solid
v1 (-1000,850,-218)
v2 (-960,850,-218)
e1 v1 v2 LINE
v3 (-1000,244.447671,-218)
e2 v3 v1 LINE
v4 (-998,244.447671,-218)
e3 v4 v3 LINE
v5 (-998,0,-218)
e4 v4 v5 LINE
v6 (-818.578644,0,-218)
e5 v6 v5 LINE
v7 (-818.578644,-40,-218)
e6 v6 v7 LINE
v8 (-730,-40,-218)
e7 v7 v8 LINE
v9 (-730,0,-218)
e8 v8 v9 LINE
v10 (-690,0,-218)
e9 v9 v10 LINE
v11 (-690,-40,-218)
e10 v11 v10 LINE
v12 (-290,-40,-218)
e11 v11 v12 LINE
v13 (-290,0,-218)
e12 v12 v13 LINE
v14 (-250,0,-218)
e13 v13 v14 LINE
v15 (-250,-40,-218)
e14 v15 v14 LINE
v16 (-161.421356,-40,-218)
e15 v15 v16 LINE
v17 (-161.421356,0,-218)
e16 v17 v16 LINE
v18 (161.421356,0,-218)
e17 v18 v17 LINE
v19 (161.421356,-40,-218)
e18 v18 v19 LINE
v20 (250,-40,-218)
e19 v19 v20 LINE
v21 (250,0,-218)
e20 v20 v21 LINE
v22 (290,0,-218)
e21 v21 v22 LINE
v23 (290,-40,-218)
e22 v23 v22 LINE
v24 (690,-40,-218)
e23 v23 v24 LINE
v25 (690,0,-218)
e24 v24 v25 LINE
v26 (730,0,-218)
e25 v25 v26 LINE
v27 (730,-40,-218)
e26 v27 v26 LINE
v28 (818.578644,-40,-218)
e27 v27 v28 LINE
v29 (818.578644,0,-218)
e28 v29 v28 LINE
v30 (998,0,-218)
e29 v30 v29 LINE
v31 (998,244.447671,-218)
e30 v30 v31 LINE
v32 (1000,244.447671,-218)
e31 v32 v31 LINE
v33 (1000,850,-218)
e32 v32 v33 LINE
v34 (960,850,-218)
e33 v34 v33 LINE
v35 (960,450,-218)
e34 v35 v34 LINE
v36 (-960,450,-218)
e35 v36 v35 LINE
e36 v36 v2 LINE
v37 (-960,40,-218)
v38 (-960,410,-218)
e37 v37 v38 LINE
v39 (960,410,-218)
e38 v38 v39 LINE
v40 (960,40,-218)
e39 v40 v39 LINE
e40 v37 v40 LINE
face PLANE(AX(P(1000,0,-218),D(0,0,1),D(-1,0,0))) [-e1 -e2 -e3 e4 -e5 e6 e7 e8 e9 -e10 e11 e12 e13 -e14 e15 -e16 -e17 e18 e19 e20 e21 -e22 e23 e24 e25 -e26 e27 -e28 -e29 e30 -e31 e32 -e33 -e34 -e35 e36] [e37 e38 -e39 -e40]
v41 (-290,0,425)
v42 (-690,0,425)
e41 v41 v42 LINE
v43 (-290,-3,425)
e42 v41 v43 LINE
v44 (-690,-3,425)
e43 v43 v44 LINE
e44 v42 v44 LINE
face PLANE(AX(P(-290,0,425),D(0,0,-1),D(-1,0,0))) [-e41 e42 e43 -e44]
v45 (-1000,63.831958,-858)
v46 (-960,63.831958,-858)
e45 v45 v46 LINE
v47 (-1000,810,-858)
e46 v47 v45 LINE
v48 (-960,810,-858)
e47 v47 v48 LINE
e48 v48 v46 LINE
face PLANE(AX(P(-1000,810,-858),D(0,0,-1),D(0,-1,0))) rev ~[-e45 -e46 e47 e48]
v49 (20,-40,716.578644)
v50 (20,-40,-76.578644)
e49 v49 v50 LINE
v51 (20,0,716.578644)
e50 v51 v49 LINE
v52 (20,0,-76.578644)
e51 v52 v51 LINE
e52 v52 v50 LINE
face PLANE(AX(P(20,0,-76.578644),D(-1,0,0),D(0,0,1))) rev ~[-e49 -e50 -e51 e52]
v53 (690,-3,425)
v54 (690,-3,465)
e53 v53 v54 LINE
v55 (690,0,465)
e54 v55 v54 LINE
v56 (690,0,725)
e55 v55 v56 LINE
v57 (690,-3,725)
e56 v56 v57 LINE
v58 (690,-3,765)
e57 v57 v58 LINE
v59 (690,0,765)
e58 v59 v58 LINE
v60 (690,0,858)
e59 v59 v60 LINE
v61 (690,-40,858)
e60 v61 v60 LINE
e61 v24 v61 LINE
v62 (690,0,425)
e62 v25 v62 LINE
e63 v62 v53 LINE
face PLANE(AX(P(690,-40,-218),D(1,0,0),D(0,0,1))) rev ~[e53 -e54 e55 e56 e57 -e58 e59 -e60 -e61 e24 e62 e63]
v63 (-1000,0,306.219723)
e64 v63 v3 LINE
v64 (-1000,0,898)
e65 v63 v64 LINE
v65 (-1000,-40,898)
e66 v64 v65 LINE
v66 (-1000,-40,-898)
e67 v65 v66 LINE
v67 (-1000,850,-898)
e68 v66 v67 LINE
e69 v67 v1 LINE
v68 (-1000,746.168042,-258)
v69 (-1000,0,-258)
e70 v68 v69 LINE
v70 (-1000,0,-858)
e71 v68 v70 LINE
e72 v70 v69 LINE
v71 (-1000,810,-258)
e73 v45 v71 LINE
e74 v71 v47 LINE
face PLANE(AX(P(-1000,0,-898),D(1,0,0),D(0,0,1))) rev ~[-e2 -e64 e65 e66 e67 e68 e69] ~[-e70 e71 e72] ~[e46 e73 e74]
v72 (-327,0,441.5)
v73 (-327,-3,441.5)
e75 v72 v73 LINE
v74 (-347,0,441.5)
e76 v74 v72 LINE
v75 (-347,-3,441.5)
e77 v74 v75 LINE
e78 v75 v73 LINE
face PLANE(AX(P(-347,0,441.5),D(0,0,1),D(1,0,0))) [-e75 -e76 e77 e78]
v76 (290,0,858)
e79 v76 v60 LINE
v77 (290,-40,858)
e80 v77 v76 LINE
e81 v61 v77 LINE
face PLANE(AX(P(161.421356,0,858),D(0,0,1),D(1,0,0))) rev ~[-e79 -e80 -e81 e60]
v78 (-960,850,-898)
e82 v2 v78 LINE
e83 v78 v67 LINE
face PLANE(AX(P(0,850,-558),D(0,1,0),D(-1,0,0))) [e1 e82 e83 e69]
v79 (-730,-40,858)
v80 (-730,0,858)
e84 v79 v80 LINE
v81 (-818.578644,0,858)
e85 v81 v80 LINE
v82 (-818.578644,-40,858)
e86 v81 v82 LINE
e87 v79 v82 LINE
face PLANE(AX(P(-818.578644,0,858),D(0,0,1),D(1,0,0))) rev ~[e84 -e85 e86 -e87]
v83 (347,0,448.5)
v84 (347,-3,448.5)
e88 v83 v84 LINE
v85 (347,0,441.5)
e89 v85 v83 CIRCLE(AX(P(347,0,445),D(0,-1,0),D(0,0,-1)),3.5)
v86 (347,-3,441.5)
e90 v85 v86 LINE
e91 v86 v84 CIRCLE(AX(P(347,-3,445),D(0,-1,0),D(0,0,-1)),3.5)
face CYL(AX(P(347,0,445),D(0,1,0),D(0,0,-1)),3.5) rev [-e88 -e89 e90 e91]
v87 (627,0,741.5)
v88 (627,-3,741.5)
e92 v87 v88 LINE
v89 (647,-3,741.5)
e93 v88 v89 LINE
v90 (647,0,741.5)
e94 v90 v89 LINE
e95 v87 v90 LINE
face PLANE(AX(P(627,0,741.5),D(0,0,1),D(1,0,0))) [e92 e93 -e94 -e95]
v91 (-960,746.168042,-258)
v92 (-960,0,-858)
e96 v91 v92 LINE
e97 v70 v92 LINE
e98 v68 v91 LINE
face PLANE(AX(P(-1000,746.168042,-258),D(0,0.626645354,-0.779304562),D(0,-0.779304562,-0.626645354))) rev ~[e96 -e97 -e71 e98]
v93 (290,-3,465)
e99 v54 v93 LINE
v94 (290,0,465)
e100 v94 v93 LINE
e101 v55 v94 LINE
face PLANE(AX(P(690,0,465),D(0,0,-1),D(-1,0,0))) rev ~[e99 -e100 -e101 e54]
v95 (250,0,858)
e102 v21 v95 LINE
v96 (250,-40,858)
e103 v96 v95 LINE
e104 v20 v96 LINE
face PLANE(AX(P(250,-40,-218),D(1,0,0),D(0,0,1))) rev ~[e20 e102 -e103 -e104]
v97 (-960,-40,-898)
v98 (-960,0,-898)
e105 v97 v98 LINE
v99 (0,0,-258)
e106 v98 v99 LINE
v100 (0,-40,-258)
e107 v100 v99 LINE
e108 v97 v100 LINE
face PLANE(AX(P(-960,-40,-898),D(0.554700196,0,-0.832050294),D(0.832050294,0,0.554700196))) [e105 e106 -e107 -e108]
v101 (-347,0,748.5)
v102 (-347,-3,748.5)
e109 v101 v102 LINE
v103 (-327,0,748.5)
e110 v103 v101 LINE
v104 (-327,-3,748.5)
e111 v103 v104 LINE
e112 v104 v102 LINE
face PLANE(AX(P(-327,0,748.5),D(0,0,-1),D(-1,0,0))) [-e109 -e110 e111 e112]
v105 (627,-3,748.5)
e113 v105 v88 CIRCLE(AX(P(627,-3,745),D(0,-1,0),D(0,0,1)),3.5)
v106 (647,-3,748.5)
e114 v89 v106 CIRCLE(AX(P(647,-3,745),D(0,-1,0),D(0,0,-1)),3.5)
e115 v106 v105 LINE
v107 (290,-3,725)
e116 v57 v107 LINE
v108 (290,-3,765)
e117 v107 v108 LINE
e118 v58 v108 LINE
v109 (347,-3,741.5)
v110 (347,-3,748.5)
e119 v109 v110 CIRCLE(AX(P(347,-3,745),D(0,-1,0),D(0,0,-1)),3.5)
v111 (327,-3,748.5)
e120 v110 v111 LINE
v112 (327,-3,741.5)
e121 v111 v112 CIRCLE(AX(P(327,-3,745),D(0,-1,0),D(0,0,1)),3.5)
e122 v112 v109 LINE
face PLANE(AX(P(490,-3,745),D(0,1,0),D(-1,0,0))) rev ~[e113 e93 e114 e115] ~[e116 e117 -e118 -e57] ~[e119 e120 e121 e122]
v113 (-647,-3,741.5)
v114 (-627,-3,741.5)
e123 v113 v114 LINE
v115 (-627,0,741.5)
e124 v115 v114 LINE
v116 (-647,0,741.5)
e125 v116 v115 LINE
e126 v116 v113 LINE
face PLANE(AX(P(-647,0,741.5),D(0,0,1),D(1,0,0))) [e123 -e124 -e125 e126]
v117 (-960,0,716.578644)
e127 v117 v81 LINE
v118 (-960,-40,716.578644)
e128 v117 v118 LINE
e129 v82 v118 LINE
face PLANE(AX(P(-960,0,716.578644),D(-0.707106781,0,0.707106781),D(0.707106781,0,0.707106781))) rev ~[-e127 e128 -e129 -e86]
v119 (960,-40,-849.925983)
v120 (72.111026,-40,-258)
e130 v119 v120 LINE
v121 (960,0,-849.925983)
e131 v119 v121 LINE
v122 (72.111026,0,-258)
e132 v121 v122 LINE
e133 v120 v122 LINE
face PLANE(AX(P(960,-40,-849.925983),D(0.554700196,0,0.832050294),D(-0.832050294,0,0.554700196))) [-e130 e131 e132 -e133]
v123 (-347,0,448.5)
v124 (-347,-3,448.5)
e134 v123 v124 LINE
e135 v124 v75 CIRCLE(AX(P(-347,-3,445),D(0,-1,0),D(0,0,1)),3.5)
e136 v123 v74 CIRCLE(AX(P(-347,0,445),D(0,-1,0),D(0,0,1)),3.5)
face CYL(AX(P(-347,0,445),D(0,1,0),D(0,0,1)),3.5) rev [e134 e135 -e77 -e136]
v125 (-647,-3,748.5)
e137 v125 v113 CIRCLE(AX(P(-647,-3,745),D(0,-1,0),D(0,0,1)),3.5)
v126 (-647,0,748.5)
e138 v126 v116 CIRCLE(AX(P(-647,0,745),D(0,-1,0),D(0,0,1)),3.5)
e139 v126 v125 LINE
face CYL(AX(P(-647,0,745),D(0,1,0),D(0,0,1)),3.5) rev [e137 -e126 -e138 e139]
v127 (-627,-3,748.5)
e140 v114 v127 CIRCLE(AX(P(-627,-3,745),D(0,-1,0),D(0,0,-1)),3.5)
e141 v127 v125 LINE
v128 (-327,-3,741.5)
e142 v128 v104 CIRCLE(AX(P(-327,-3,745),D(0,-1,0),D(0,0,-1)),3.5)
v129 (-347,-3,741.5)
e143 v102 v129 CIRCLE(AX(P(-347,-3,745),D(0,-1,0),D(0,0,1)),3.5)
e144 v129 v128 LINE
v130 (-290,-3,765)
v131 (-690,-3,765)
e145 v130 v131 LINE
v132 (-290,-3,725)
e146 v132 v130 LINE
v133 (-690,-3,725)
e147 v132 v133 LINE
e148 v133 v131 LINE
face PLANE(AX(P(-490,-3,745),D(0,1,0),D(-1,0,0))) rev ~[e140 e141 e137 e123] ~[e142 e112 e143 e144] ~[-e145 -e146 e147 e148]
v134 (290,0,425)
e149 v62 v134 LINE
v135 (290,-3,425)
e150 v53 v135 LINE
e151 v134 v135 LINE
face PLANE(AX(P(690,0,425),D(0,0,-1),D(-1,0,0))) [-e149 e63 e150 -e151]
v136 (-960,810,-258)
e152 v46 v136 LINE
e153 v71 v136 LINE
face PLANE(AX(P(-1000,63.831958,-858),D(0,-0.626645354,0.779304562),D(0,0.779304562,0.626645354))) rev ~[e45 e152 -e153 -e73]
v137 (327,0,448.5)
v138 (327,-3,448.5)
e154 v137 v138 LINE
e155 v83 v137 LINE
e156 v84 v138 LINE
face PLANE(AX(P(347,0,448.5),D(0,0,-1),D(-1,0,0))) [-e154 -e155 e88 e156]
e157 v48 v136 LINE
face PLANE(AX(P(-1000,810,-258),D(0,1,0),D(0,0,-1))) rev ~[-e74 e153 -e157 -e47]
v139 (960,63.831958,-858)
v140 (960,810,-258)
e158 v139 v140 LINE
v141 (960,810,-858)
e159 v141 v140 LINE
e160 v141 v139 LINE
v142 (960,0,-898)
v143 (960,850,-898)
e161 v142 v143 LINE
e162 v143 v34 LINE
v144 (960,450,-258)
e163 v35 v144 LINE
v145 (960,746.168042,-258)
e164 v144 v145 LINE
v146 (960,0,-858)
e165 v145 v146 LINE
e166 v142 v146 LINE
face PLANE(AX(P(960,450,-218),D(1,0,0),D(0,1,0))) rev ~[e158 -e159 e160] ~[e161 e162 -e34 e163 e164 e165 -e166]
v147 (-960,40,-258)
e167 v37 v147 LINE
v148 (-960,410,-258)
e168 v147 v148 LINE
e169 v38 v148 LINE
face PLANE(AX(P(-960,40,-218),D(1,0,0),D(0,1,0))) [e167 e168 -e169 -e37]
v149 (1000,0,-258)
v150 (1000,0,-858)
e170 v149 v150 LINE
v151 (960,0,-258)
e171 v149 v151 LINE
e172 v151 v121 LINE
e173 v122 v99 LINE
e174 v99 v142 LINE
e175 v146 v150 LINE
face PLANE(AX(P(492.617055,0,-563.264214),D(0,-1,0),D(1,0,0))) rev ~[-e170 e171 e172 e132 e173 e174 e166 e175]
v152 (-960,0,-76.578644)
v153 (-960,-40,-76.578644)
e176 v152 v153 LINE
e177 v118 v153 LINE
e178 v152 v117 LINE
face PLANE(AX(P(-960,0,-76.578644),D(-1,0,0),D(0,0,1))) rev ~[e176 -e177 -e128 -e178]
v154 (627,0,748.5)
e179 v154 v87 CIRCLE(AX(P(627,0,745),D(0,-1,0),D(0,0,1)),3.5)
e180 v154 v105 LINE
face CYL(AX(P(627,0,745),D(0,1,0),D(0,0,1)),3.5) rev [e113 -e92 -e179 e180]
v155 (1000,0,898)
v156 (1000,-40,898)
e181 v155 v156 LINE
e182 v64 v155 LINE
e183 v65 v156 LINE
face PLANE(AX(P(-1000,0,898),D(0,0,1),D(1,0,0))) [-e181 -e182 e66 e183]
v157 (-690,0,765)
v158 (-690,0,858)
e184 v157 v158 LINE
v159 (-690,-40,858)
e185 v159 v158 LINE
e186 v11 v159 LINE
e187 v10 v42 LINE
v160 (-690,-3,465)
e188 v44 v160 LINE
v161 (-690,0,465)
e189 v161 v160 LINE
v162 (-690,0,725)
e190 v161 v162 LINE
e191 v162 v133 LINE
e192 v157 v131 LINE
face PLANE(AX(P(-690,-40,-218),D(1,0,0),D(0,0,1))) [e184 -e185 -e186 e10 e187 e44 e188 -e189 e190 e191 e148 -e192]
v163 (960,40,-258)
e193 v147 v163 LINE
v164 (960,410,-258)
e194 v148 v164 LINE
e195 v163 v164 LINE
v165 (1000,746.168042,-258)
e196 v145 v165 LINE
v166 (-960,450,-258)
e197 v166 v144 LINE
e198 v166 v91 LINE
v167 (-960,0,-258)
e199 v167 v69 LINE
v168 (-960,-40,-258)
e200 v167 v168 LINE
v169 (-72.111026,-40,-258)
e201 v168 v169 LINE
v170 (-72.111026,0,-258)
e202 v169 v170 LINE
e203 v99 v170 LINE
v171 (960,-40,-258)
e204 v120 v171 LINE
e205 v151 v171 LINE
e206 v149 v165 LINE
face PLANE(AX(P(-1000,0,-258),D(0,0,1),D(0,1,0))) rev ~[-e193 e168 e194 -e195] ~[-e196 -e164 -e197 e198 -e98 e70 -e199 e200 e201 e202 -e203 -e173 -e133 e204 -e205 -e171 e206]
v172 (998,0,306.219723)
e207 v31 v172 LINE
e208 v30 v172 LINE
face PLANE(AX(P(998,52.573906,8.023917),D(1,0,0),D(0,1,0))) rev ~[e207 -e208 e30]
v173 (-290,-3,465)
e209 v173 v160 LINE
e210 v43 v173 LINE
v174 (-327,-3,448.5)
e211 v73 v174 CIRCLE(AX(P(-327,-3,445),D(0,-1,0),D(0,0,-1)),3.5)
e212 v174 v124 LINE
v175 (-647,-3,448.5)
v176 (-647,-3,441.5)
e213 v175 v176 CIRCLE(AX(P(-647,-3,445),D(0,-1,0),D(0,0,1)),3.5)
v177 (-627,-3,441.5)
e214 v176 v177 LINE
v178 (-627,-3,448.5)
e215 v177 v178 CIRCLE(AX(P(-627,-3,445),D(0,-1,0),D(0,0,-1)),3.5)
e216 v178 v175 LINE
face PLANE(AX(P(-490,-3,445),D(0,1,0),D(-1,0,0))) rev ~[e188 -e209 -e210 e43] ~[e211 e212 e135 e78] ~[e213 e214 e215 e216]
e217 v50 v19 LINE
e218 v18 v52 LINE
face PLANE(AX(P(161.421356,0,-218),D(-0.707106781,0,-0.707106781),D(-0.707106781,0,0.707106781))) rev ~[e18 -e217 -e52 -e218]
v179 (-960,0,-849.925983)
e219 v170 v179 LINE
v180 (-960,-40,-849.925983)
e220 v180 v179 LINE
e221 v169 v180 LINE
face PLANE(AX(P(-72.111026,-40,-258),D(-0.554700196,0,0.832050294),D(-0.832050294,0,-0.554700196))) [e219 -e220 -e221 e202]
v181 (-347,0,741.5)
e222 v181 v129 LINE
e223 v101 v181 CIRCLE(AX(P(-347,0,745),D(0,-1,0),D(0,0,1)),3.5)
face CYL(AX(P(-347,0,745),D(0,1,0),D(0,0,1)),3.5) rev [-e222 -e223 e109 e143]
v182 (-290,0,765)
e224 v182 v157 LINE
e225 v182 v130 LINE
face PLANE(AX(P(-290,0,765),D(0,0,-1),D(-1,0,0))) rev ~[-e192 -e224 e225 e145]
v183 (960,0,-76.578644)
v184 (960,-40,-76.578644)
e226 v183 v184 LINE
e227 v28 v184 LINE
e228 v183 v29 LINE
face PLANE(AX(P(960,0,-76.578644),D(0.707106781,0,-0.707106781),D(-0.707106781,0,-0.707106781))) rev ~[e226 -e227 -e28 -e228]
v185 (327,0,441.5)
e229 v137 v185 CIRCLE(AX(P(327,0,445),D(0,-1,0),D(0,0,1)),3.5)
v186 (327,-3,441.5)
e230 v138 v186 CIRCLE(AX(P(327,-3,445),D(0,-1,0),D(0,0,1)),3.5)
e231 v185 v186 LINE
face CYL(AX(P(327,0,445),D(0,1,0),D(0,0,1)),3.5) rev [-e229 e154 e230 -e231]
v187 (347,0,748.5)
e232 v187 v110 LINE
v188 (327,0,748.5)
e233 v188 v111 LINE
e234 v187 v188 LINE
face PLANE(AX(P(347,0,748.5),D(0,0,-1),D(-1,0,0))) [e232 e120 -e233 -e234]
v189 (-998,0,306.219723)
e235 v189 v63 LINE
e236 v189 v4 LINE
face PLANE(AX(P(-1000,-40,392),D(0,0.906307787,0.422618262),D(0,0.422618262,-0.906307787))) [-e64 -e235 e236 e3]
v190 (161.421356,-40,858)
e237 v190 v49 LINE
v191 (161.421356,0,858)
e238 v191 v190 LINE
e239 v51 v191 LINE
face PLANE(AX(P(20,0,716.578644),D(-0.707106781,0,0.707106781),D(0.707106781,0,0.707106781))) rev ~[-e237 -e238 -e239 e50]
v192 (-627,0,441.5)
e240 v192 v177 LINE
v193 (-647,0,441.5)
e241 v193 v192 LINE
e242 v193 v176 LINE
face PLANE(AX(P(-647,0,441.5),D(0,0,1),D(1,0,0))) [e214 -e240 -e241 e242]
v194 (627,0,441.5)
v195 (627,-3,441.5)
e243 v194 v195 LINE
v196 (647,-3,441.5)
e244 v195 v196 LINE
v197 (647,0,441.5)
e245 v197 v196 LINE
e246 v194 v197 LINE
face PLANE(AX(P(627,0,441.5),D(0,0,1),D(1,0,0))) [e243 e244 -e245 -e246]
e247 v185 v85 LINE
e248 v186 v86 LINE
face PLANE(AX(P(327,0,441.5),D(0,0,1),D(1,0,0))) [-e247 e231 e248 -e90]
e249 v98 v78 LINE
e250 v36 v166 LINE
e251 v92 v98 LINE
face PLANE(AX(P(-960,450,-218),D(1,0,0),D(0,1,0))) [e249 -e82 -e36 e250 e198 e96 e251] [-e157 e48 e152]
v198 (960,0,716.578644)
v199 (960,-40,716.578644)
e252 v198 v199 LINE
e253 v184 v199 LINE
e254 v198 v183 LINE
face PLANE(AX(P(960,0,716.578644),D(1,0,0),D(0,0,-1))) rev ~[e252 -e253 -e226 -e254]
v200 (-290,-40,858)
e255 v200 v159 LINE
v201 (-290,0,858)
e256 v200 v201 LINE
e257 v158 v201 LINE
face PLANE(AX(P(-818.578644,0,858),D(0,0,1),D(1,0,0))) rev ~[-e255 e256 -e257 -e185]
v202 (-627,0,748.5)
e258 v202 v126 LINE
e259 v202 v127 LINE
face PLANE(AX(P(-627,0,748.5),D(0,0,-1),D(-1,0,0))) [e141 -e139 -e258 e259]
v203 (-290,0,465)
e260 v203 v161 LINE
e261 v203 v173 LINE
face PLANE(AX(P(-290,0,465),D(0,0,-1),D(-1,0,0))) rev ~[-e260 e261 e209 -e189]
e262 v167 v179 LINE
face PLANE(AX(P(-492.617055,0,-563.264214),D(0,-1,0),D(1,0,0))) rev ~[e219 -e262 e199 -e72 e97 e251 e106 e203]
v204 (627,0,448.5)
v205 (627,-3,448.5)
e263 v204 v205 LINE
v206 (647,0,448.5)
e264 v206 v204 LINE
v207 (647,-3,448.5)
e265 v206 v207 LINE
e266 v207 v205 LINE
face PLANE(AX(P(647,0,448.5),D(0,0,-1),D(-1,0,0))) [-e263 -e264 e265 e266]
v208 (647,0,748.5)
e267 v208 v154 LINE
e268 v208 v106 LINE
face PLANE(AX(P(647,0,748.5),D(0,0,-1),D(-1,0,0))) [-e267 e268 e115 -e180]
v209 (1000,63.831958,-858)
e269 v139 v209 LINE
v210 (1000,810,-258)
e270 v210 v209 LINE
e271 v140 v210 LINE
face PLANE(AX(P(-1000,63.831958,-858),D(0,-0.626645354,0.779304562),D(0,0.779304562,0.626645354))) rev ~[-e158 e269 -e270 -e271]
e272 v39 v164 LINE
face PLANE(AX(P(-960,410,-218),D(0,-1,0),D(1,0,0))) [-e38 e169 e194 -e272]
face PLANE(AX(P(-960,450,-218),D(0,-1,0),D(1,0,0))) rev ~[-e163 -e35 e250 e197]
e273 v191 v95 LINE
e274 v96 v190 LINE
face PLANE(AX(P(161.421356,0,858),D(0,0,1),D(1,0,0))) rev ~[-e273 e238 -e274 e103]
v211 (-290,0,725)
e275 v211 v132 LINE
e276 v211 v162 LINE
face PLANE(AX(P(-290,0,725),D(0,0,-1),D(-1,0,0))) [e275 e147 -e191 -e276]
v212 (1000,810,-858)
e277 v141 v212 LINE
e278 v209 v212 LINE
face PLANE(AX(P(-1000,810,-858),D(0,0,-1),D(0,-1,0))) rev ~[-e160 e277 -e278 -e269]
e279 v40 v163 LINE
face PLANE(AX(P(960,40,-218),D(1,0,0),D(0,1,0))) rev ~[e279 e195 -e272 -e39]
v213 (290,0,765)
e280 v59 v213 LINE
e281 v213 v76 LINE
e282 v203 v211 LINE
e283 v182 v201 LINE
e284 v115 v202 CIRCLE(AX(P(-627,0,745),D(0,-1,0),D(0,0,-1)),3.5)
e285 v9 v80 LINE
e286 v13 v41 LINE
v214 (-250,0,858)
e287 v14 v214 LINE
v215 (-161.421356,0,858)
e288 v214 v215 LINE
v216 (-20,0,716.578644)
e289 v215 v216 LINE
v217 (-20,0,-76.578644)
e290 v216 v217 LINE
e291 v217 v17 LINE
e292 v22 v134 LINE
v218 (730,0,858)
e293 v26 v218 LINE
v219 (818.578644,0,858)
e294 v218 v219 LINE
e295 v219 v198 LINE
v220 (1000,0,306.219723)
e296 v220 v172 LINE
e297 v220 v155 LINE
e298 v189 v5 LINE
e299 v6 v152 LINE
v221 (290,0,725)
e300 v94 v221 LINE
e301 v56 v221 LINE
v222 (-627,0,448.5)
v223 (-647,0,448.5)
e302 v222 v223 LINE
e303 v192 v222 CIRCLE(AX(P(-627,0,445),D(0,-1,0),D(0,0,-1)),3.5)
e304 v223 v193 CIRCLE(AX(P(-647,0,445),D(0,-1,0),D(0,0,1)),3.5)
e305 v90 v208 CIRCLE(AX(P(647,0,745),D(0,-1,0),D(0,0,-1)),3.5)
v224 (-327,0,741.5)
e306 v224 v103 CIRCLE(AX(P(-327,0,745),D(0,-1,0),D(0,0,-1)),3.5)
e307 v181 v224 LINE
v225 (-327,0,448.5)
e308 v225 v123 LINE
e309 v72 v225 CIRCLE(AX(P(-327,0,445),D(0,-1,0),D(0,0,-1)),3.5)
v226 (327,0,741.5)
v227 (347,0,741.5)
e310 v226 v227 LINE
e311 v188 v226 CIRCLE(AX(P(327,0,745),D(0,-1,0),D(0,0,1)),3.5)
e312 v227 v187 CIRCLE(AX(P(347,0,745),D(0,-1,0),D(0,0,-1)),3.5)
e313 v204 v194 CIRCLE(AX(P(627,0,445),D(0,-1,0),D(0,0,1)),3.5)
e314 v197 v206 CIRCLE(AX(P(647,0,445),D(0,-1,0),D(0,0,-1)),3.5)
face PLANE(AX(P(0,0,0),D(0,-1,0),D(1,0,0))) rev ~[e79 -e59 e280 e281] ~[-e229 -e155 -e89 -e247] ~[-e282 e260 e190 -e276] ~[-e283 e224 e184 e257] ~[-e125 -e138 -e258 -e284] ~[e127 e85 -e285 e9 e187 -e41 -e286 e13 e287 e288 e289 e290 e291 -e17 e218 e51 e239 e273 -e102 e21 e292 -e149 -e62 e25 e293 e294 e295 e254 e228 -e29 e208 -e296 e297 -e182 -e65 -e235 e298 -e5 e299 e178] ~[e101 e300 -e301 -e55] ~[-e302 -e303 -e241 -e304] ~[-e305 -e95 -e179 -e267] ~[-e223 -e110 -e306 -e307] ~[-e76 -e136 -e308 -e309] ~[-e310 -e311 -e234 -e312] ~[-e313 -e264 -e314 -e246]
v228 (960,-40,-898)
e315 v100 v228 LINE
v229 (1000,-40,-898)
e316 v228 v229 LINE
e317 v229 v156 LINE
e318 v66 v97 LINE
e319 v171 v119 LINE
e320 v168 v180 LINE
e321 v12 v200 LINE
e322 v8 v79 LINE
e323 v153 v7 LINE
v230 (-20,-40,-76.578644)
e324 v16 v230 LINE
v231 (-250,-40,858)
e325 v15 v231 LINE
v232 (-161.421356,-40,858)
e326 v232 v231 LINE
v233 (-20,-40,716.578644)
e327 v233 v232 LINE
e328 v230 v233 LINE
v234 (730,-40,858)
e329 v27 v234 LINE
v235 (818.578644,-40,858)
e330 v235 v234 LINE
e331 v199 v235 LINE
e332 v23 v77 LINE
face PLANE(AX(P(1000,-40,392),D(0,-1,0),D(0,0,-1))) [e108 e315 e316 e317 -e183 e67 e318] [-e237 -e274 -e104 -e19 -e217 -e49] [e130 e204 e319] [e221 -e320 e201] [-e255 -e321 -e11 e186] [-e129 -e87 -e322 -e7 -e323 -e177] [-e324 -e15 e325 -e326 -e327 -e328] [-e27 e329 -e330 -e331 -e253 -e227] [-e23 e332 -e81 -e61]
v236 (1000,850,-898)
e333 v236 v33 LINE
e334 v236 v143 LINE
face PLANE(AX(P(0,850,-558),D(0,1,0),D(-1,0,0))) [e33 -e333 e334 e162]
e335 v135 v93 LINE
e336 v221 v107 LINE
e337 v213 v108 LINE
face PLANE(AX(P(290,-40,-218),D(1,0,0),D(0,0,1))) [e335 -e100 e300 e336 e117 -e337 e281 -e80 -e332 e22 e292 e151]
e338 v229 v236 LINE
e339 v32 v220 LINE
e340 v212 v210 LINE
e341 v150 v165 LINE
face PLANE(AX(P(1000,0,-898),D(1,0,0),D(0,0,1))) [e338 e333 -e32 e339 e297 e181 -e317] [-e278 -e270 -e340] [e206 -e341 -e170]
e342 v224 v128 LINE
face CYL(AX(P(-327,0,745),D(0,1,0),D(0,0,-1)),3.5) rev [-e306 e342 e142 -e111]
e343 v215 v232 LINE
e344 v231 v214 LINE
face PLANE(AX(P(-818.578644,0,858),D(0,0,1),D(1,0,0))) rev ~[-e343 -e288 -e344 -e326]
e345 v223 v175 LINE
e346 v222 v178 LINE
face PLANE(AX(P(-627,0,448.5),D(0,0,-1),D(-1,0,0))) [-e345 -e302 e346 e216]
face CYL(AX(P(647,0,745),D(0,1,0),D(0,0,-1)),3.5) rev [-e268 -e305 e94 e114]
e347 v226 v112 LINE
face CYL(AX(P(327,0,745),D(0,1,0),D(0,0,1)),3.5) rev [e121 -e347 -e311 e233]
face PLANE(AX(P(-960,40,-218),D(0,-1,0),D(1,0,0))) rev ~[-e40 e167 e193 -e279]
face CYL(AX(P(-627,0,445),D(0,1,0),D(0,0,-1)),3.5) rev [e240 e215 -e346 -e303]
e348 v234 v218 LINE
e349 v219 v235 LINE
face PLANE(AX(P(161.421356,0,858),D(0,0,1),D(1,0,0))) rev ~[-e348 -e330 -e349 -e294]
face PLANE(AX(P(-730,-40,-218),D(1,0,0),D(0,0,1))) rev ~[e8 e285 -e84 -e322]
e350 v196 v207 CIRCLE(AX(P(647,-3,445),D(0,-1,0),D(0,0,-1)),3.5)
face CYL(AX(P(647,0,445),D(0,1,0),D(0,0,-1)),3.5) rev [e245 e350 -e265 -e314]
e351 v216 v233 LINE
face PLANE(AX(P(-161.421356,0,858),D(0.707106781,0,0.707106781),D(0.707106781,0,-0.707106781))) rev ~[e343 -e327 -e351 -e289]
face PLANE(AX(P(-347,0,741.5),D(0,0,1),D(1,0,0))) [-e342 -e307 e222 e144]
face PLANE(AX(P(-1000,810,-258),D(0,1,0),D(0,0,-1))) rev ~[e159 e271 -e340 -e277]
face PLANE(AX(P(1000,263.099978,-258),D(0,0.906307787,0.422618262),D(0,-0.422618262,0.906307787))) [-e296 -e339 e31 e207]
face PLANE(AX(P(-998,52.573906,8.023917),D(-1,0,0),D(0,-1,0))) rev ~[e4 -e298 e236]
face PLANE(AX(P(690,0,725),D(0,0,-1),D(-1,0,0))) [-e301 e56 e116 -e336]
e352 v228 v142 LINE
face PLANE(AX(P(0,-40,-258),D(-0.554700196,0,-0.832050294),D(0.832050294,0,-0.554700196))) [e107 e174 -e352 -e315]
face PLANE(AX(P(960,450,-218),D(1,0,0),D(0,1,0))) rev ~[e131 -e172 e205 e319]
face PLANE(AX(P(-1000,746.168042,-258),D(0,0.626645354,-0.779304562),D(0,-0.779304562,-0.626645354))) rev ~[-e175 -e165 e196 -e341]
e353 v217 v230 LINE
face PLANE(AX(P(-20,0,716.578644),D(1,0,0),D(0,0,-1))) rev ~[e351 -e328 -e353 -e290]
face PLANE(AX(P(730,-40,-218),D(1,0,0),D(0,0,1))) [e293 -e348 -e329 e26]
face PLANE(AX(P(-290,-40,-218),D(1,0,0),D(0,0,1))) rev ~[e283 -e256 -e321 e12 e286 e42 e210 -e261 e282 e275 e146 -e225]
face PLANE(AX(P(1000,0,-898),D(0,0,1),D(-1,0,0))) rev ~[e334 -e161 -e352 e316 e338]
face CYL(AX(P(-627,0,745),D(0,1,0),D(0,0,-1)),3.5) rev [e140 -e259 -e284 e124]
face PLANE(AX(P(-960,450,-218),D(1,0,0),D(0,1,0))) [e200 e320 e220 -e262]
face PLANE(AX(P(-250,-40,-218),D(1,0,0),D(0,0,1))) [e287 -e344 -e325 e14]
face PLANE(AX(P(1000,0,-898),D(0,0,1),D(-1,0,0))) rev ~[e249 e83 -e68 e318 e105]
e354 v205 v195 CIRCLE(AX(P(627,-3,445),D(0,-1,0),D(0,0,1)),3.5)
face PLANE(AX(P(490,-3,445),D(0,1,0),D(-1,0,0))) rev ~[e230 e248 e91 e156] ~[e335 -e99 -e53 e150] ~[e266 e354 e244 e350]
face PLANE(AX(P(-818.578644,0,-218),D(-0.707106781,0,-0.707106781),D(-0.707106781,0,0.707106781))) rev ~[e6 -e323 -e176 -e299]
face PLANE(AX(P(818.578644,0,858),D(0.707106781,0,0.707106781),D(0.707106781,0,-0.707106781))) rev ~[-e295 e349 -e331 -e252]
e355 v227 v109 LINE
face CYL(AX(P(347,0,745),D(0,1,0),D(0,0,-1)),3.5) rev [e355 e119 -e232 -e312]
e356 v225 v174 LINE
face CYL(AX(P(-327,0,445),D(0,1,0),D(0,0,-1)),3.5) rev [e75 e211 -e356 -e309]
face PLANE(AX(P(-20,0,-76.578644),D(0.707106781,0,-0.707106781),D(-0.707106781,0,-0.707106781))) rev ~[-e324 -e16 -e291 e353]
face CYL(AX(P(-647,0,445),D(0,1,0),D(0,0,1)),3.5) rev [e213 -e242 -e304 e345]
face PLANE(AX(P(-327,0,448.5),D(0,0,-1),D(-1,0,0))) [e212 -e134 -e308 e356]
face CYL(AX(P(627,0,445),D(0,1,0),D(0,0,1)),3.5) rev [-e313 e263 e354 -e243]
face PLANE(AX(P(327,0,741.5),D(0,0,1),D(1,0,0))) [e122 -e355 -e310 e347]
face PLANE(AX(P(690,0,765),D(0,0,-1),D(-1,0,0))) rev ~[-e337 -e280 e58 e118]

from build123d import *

# Parameters (mm, degrees)
F0_W          = 2000
F0_H          = 1796
F1_DEPTH      = 40
F2_W          = 2000
F2_H          = 680
F3_DEPTH      = 850
F4_W          = 1920
F4_H          = 640
F5_DEPTH      = 40.001
F5_DEPTH_BACK = 850.001
F7_DEPTH      = 2000.001
F8_W          = 1920
F8_H          = 400
F8_H_2        = 370
F9_DEPTH      = 680.001
F11_DEPTH     = 40
F12_W         = 40
F12_H         = 1076
F13_DEPTH     = 40
F14_W         = 400
F14_H         = 40
F15_DEPTH     = 3
F17_DEPTH     = 2
F19_DEPTH     = 2


with BuildPart() as f1:
    # F0 (on Front) → F1 (new body)
    with BuildSketch(Plane.XZ):
        Rectangle(F0_W, F0_H)
    extrude(amount=F1_DEPTH)

    # F2 (on face) → F3 (join)
    with BuildSketch(Plane(origin=(0, 0, 0), x_dir=(-1, 0, 0), z_dir=(0, 1, 0))):
        with Locations((0, -558)):
            Rectangle(F2_W, F2_H)
    extrude(amount=F3_DEPTH)

    # F4 (on face) → F5 (cut, two sides)
    with BuildSketch(Plane(origin=(0, 0, 0), x_dir=(-1, 0, 0), z_dir=(0, 1, 0))) as f5_sk:
        with Locations((0, -578)):
            Rectangle(F4_W, F4_H)
        Polygon((-161.4213562373, -218), (-20, -76.5786437627), (-20, 716.5786437627), (-161.4213562373, 858), (-818.5786437627, 858), (-960, 716.5786437627), (-960, -76.5786437627), (-818.5786437627, -218), align=None)
        Polygon((20, 716.5786437627), (20, -76.5786437627), (161.4213562373, -218), (818.5786437627, -218), (960, -76.5786437627), (960, 716.5786437627), (818.5786437627, 858), (161.4213562373, 858), align=None)
    extrude(amount=-F5_DEPTH, mode=Mode.SUBTRACT)
    extrude(f5_sk.sketch, amount=F5_DEPTH_BACK, mode=Mode.SUBTRACT)

    # F6 (on face) → F7 (cut, through all)
    with BuildSketch(Plane(origin=(-1000, 0, 0), x_dir=(0, -1, 0), z_dir=(-1, 0, 0))):
        Polygon((-63.8319580969, -858), (-810, -258), (-810, -858), align=None)
        Polygon((0, -858), (0, -258), (-746.1680419031, -258), align=None)
    extrude(amount=-F7_DEPTH, mode=Mode.SUBTRACT)

    # F8 (on face) → F9 (cut, through all)
    with BuildSketch(Plane.XY.offset(-218)):
        with Locations((0, 650)):
            Rectangle(F8_W, F8_H)
        with Locations((0, 225)):
            Rectangle(F8_W, F8_H_2)
    extrude(amount=-F9_DEPTH, mode=Mode.SUBTRACT)

    # F10 (on face) → F11 (join)
    with BuildSketch(Plane.XZ.offset(40)):
        Polygon((72.1110255093, -258), (0, -258), (960, -898), (960, -849.9259829938), align=None)
        Polygon((-960, -898), (0, -258), (-72.1110255093, -258), (-960, -849.9259829938), align=None)
    extrude(amount=-F11_DEPTH)

    # F12 (on face) → F13 (join)
    with BuildSketch(Plane.XZ.offset(40)):
        with Locations((-710, 320)):
            Rectangle(F12_W, F12_H)
        with Locations((-270, 320)):
            Rectangle(F12_W, F12_H)
        with Locations((270, 320)):
            Rectangle(F12_W, F12_H)
        with Locations((710, 320)):
            Rectangle(F12_W, F12_H)
    extrude(amount=-F13_DEPTH)

    # F14 (on face) → F15 (join)
    with BuildSketch(Plane(origin=(0, 0, 0), x_dir=(-1, 0, 0), z_dir=(0, 1, 0))):
        with Locations((490, 745)):
            Rectangle(F14_W, F14_H)
        with BuildLine():
            Line((327, 748.5), (337, 748.5))
            Line((337, 748.5), (347, 748.5))
            ThreePointArc((347, 748.5), (350.5, 745), (347, 741.5))
            Line((347, 741.5), (337, 741.5))
            Line((337, 741.5), (327, 741.5))
            ThreePointArc((327, 741.5), (323.5, 745), (327, 748.5))
        make_face(mode=Mode.SUBTRACT)
        with BuildLine():
            Line((627, 748.5), (637, 748.5))
            Line((637, 748.5), (647, 748.5))
            ThreePointArc((647, 748.5), (650.5, 745), (647, 741.5))
            Line((647, 741.5), (637, 741.5))
            Line((637, 741.5), (627, 741.5))
            ThreePointArc((627, 741.5), (623.5, 745), (627, 748.5))
        make_face(mode=Mode.SUBTRACT)
        with Locations((490, 445)):
            Rectangle(F14_W, F14_H)
        with BuildLine():
            Line((327, 448.5), (337, 448.5))
            Line((337, 448.5), (347, 448.5))
            ThreePointArc((347, 448.5), (350.5, 445), (347, 441.5))
            Line((347, 441.5), (337, 441.5))
            Line((337, 441.5), (327, 441.5))
            ThreePointArc((327, 441.5), (323.5, 445), (327, 448.5))
        make_face(mode=Mode.SUBTRACT)
        with BuildLine():
            Line((627, 448.5), (637, 448.5))
            Line((637, 448.5), (647, 448.5))
            ThreePointArc((647, 448.5), (650.5, 445), (647, 441.5))
            Line((647, 441.5), (637, 441.5))
            Line((637, 441.5), (627, 441.5))
            ThreePointArc((627, 441.5), (623.5, 445), (627, 448.5))
        make_face(mode=Mode.SUBTRACT)
        with Locations((-490, 745)):
            Rectangle(F14_W, F14_H)
        with BuildLine():
            Line((-647, 748.5), (-637, 748.5))
            Line((-637, 748.5), (-627, 748.5))
            ThreePointArc((-627, 748.5), (-623.5, 745), (-627, 741.5))
            Line((-627, 741.5), (-637, 741.5))
            Line((-637, 741.5), (-647, 741.5))
            ThreePointArc((-647, 741.5), (-650.5, 745), (-647, 748.5))
        make_face(mode=Mode.SUBTRACT)
        with BuildLine():
            Line((-347, 748.5), (-337, 748.5))
            Line((-337, 748.5), (-327, 748.5))
            ThreePointArc((-327, 748.5), (-323.5, 745), (-327, 741.5))
            Line((-327, 741.5), (-337, 741.5))
            Line((-337, 741.5), (-347, 741.5))
            ThreePointArc((-347, 741.5), (-350.5, 745), (-347, 748.5))
        make_face(mode=Mode.SUBTRACT)
        with Locations((-490, 445)):
            Rectangle(F14_W, F14_H)
        with BuildLine():
            Line((-647, 448.5), (-637, 448.5))
            Line((-637, 448.5), (-627, 448.5))
            ThreePointArc((-627, 448.5), (-623.5, 445), (-627, 441.5))
            Line((-627, 441.5), (-637, 441.5))
            Line((-637, 441.5), (-647, 441.5))
            ThreePointArc((-647, 441.5), (-650.5, 445), (-647, 448.5))
        make_face(mode=Mode.SUBTRACT)
        with BuildLine():
            Line((-347, 448.5), (-337, 448.5))
            Line((-337, 448.5), (-327, 448.5))
            ThreePointArc((-327, 448.5), (-323.5, 445), (-327, 441.5))
            Line((-327, 441.5), (-337, 441.5))
            Line((-337, 441.5), (-347, 441.5))
            ThreePointArc((-347, 441.5), (-350.5, 445), (-347, 448.5))
        make_face(mode=Mode.SUBTRACT)
    extrude(amount=-F15_DEPTH)

    # F16 (on face) → F17 (join)
    with BuildSketch(Plane(origin=(-1000, 0, 0), x_dir=(0, -1, 0), z_dir=(-1, 0, 0))):
        Polygon((40, 392), (-263.0999778007, -258), (40, -258), align=None)
    extrude(amount=-F17_DEPTH)

    # F18 (on face) → F19 (join)
    with BuildSketch(Plane.YZ.offset(1000)):
        Polygon((-40, -258), (263.0999778007, -258), (-40, 392), align=None)
    extrude(amount=-F19_DEPTH)


solid = f1.part
